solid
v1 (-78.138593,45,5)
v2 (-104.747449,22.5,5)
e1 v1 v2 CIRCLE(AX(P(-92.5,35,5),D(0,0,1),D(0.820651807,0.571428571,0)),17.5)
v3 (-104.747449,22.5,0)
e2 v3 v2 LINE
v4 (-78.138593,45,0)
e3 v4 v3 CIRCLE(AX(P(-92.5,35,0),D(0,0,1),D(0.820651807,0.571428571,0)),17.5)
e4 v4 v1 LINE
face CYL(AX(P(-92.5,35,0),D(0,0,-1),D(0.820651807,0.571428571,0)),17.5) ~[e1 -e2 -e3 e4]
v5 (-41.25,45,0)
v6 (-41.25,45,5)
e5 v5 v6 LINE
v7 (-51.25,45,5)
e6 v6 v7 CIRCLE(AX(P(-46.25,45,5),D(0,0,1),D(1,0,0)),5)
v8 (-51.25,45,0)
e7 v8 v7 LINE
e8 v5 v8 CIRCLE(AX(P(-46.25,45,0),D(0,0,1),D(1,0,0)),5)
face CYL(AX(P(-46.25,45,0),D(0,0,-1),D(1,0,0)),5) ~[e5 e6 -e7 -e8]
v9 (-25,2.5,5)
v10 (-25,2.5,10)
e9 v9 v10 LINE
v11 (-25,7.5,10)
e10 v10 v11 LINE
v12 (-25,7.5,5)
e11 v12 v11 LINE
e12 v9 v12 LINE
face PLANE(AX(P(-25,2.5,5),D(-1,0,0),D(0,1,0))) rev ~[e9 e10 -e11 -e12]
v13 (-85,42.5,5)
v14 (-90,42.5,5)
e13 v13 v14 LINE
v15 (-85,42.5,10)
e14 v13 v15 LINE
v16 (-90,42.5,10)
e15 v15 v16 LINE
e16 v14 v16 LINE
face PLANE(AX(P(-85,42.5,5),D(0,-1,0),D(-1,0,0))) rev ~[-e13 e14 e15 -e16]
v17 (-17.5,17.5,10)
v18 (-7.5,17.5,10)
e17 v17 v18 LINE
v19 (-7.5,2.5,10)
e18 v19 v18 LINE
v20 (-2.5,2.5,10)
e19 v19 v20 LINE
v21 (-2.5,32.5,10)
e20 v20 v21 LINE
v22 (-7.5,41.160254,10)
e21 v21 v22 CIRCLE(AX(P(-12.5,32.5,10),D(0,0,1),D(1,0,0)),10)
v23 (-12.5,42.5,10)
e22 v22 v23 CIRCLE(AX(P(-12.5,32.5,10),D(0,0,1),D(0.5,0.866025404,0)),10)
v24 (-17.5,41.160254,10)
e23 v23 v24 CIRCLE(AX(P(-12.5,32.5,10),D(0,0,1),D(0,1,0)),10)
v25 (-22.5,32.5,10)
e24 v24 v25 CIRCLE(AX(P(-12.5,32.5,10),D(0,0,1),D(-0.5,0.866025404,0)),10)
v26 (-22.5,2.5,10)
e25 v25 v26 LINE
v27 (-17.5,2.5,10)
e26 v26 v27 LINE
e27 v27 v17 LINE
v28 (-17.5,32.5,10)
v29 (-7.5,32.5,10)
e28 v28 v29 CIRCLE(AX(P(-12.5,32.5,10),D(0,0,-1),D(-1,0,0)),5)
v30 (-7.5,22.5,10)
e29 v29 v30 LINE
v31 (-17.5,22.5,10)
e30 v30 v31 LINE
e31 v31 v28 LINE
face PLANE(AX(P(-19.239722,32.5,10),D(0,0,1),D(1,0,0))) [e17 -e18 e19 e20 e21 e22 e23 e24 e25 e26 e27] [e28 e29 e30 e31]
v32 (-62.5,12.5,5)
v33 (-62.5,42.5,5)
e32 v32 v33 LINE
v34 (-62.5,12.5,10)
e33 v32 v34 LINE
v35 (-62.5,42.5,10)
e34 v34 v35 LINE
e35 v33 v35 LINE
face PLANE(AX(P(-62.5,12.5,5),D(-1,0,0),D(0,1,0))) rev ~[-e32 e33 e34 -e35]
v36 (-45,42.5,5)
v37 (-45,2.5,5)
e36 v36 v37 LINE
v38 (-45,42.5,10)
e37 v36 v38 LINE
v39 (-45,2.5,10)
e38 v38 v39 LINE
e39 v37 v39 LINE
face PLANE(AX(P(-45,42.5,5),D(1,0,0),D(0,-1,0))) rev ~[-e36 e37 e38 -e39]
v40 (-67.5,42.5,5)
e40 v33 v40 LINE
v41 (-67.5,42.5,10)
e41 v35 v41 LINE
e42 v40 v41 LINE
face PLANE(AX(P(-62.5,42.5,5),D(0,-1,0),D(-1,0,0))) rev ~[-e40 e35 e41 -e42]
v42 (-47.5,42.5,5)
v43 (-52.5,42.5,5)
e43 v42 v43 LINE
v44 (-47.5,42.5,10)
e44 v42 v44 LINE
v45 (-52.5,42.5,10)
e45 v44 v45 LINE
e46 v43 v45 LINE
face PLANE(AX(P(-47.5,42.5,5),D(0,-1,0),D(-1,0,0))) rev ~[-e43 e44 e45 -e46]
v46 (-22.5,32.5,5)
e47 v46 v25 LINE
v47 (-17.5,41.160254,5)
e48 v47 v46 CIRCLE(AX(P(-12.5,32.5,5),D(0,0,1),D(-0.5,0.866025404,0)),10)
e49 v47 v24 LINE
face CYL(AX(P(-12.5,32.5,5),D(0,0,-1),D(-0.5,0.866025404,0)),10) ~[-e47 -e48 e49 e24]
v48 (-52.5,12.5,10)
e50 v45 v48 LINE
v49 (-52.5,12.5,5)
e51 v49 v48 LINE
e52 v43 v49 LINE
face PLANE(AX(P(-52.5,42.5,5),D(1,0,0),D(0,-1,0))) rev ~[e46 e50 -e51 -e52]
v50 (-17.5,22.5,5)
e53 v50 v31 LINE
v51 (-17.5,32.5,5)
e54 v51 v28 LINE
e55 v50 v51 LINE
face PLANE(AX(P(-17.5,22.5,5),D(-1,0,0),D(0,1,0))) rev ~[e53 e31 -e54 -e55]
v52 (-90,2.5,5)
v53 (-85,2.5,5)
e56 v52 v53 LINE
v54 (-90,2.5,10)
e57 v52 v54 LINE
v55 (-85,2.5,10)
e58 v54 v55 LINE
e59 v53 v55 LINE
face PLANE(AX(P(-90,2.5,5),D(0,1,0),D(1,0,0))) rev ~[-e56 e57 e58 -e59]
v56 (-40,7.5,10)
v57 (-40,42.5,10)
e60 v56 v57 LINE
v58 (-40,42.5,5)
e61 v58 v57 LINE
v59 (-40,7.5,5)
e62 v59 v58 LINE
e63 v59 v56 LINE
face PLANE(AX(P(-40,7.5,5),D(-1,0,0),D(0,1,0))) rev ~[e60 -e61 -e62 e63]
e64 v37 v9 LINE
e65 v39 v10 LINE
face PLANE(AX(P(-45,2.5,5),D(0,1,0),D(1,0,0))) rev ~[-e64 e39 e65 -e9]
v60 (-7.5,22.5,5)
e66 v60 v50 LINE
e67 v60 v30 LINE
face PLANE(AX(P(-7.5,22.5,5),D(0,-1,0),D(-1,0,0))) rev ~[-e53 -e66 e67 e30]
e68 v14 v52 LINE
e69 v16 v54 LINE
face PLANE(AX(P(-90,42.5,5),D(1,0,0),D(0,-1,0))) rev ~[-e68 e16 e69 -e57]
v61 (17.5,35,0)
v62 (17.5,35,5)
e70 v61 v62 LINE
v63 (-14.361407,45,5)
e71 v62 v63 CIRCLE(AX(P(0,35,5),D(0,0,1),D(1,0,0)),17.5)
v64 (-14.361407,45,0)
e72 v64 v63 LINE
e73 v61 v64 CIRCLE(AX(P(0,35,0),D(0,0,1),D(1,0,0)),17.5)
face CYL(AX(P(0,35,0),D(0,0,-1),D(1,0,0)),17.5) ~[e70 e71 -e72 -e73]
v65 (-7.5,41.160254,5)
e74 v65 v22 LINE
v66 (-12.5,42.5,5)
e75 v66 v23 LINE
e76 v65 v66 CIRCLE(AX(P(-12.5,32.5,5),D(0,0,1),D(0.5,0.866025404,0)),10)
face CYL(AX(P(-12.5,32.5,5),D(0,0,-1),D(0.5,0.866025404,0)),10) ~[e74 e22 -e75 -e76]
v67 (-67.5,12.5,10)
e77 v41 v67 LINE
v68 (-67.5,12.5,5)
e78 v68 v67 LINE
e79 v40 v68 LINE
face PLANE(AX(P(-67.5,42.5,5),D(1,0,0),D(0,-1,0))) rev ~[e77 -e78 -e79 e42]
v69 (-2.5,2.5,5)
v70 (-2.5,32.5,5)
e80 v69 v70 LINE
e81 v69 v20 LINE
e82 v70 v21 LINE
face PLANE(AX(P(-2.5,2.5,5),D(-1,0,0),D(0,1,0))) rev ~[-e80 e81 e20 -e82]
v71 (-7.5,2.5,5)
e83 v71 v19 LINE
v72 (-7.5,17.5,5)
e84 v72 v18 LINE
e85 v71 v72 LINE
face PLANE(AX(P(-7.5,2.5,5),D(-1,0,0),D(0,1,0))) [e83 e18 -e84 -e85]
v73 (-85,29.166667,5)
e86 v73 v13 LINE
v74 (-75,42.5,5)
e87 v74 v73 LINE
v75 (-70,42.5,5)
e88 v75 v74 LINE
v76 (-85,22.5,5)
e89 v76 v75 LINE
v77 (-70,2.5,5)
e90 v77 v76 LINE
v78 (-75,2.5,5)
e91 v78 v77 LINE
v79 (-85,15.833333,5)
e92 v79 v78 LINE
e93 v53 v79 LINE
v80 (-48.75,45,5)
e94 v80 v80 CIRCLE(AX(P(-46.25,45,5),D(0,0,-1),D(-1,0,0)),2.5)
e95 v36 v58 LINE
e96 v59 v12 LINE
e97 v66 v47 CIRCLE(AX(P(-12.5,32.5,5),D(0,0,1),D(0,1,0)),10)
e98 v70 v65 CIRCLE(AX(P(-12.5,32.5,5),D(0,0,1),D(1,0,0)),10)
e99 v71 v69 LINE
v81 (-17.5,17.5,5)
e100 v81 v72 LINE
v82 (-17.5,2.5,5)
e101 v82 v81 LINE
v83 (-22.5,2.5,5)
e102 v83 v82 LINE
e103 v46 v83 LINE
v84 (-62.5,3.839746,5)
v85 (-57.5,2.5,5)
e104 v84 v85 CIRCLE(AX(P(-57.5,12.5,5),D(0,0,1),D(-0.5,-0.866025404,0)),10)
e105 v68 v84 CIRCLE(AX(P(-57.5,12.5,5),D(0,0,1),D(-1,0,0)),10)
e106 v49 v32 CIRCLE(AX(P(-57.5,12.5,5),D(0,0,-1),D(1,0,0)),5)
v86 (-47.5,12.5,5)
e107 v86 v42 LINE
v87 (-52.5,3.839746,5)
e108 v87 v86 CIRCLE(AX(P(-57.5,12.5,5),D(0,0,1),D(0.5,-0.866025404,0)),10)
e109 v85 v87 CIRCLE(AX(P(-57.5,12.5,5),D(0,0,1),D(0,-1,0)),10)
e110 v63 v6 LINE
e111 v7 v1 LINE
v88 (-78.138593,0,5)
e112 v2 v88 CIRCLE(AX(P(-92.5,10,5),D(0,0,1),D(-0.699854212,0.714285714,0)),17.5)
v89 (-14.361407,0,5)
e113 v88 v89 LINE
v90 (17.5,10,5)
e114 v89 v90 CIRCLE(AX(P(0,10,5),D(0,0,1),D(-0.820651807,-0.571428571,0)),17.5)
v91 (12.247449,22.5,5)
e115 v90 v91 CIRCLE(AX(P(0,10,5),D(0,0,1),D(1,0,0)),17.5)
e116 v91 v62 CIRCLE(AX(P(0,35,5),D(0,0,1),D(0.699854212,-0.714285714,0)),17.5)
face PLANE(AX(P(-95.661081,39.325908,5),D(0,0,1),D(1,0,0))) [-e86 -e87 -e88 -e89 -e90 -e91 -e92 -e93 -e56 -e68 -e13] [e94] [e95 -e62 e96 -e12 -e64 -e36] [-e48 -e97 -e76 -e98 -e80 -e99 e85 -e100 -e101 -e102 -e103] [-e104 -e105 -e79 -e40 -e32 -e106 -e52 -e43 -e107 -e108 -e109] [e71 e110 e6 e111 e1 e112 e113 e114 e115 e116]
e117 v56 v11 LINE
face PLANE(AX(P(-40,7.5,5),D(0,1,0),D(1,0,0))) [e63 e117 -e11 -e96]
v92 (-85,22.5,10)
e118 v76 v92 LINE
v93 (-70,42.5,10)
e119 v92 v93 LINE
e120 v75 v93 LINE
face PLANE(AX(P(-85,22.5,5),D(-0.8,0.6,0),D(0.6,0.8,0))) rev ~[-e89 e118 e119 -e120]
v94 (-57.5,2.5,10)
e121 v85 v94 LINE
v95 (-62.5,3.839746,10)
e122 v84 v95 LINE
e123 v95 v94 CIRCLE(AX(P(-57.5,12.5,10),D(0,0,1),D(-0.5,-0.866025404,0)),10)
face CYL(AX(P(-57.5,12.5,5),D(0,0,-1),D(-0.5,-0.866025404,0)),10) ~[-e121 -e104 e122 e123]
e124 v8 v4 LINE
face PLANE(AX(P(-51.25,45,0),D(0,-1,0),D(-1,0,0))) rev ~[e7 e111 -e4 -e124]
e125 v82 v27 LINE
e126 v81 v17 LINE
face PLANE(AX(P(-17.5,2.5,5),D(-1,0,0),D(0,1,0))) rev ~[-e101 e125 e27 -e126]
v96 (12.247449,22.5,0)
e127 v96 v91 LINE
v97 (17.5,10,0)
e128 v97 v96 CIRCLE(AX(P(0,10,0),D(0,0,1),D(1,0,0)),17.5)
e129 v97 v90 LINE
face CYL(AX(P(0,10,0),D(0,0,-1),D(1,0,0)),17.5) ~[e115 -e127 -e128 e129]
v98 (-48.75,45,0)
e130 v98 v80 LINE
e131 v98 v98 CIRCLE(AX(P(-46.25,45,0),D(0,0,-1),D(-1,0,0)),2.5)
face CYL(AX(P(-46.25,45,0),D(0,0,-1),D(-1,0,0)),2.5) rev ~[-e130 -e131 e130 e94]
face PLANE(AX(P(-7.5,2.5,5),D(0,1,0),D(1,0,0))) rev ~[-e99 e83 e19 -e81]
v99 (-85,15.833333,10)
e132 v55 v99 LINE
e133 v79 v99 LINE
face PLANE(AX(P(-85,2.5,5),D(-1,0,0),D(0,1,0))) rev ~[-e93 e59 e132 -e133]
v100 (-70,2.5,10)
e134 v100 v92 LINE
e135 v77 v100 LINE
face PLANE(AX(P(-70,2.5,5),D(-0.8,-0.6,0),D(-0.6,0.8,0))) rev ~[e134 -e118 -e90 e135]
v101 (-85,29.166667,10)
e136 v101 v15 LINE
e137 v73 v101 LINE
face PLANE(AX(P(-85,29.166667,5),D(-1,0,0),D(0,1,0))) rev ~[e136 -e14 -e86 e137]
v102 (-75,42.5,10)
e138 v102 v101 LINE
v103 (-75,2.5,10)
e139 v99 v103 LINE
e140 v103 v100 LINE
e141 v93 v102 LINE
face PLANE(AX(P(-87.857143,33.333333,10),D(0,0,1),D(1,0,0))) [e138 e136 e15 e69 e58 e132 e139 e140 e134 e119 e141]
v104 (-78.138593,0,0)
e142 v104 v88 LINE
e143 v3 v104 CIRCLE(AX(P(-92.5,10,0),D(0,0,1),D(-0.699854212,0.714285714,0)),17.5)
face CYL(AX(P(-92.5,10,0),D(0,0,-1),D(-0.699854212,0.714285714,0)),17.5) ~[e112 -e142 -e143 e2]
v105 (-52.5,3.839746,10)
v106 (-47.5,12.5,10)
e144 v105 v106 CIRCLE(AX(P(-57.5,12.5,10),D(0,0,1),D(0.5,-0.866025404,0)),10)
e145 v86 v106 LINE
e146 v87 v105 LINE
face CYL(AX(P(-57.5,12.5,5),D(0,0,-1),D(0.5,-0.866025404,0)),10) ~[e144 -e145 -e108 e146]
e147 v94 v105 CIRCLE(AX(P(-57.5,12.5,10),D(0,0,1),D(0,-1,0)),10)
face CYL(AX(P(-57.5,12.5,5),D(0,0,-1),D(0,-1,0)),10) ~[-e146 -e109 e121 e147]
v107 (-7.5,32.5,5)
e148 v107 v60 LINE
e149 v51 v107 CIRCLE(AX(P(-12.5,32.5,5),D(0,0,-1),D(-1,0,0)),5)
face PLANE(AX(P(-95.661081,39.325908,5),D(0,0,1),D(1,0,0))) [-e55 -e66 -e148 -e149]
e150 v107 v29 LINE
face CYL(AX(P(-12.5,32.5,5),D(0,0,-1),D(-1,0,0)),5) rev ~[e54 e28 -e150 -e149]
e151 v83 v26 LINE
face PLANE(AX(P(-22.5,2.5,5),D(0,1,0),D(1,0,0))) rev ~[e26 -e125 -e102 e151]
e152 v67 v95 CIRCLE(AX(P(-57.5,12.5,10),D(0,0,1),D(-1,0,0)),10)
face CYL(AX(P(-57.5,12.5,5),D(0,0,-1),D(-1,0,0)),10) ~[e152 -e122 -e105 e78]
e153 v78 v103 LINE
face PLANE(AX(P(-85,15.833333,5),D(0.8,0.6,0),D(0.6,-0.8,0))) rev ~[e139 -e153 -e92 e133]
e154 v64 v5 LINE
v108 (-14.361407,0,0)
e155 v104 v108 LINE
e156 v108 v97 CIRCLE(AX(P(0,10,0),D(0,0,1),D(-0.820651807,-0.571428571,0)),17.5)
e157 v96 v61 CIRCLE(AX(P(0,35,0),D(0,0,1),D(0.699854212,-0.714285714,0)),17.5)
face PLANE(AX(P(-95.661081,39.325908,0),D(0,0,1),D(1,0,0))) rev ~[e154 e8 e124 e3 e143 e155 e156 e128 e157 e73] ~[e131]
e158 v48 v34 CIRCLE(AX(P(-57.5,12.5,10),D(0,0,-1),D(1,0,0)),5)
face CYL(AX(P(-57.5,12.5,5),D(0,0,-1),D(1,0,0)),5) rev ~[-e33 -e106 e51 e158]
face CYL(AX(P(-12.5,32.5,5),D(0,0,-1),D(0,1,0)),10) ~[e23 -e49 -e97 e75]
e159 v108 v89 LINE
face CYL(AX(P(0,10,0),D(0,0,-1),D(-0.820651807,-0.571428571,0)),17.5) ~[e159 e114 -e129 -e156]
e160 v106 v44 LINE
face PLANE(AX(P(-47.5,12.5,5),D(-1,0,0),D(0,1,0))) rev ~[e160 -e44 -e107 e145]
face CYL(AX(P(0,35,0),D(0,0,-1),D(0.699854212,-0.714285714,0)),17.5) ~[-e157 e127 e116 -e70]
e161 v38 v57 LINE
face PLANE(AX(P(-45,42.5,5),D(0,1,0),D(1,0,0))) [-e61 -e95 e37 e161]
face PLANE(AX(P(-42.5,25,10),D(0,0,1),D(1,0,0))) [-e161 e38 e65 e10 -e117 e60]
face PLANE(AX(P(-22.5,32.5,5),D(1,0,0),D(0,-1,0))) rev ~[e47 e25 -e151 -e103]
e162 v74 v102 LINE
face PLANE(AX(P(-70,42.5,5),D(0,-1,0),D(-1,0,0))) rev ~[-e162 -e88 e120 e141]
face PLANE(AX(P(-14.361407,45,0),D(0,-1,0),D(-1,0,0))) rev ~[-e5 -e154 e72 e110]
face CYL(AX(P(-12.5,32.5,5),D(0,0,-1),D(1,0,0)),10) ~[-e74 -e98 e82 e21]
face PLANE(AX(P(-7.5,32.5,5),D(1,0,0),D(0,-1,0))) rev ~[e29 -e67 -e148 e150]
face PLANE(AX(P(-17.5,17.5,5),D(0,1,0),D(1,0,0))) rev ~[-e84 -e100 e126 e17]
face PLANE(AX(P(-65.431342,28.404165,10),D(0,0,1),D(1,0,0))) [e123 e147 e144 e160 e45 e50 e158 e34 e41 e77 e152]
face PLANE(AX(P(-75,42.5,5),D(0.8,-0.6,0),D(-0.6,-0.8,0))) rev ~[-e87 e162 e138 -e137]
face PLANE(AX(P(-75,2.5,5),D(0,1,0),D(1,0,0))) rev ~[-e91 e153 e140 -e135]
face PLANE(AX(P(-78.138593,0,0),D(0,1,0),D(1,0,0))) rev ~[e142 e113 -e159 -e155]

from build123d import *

# Parameters (mm, degrees)
F1_DEPTH = 5
F2_W     = 5
F2_H     = 35
F2_H_2   = 5
F2_W_2   = 15
F2_H_3   = 15
F3_DEPTH = 5


with BuildPart() as f1:
    # F0 (on Top) → F1 (new body)
    with BuildSketch(Plane.XY):
        with BuildLine():
            Line((-92.5, 45), (-78.1385933837, 45))
            ThreePointArc((-78.1385933837, 45), (-103.7995444379, 48.3630196998), (-104.7474487139, 22.5))
            ThreePointArc((-104.7474487139, 22.5), (-99.1143782777, 26.201851746), (-92.5, 27.5))
            Line((-92.5, 27.5), (-92.5, 45))
        make_face()
        with BuildLine():
            Line((-92.5, 17.5), (-92.5, 27.5))
            ThreePointArc((-92.5, 27.5), (-99.1143782777, 26.201851746), (-104.7474487139, 22.5))
            ThreePointArc((-104.7474487139, 22.5), (-99.1143782777, 18.798148254), (-92.5, 17.5))
        make_face()
        with BuildLine():
            ThreePointArc((-92.5, 17.5), (-99.1143782777, 18.798148254), (-104.7474487139, 22.5))
            ThreePointArc((-104.7474487139, 22.5), (-103.7995444379, -3.3630196998), (-78.1385933837, 0))
            Line((-78.1385933837, 0), (-92.5, 0))
            Line((-92.5, 0), (-92.5, 17.5))
        make_face()
        with BuildLine():
            Line((-90, 17.6794919243), (-90, 27.3205080757))
            ThreePointArc((-90, 27.3205080757), (-91.2467824061, 27.4550693399), (-92.5, 27.5))
            Line((-92.5, 27.5), (-92.5, 17.5))
            ThreePointArc((-92.5, 17.5), (-91.2467824061, 17.5449306601), (-90, 17.6794919243))
        make_face()
        with BuildLine():
            Line((-90, 27.3205080757), (-90, 42.5))
            Line((-90, 42.5), (-76.6886116992, 42.5))
            ThreePointArc((-76.6886116992, 42.5), (-77.3619060553, 43.7799835832), (-78.1385933837, 45))
            Line((-78.1385933837, 45), (-92.5, 45))
            Line((-92.5, 45), (-92.5, 27.5))
            ThreePointArc((-92.5, 27.5), (-91.2467824061, 27.4550693399), (-90, 27.3205080757))
        make_face()
        with BuildLine():
            Line((-76.6886116992, 42.5), (-90, 42.5))
            Line((-90, 42.5), (-90, 27.3205080757))
            ThreePointArc((-90, 27.3205080757), (-84.7423498777, 25.6865823104), (-80.2525512861, 22.5))
            ThreePointArc((-80.2525512861, 22.5), (-76.3664890291, 28.2206324961), (-75, 35))
            ThreePointArc((-75, 35), (-75.4273713907, 38.843872054), (-76.6886116992, 42.5))
        make_face()
        with BuildLine():
            ThreePointArc((-80.2525512861, 22.5), (-84.7423498777, 25.6865823104), (-90, 27.3205080757))
            Line((-90, 27.3205080757), (-90, 17.6794919243))
            ThreePointArc((-90, 17.6794919243), (-84.7423498777, 19.3134176896), (-80.2525512861, 22.5))
        make_face()
        with BuildLine():
            ThreePointArc((-80.2525512861, 22.5), (-84.7423498777, 19.3134176896), (-90, 17.6794919243))
            Line((-90, 17.6794919243), (-90, 2.5))
            Line((-90, 2.5), (-76.6886116992, 2.5))
            ThreePointArc((-76.6886116992, 2.5), (-75.4273713907, 6.156127946), (-75, 10))
            ThreePointArc((-75, 10), (-76.3664890291, 16.7793675039), (-80.2525512861, 22.5))
        make_face()
        with BuildLine():
            Line((-90, 2.5), (-90, 17.6794919243))
            ThreePointArc((-90, 17.6794919243), (-91.2467824061, 17.5449306601), (-92.5, 17.5))
            Line((-92.5, 17.5), (-92.5, 0))
            Line((-92.5, 0), (-78.1385933837, 0))
            ThreePointArc((-78.1385933837, 0), (-77.3619060553, 1.2200164168), (-76.6886116992, 2.5))
            Line((-76.6886116992, 2.5), (-90, 2.5))
        make_face()
        with BuildLine():
            Line((-70, 42.5), (-76.6886116992, 42.5))
            ThreePointArc((-76.6886116992, 42.5), (-75.4273713907, 38.843872054), (-75, 35))
            ThreePointArc((-75, 35), (-76.3664890291, 28.2206324961), (-80.2525512861, 22.5))
            ThreePointArc((-80.2525512861, 22.5), (-76.3664890291, 16.7793675039), (-75, 10))
            ThreePointArc((-75, 10), (-75.4273713907, 6.156127946), (-76.6886116992, 2.5))
            Line((-76.6886116992, 2.5), (-70, 2.5))
            Line((-70, 2.5), (-70, 42.5))
        make_face()
        with BuildLine():
            ThreePointArc((-78.1385933837, 45), (-77.3619060553, 43.7799835832), (-76.6886116992, 42.5))
            Line((-76.6886116992, 42.5), (-70, 42.5))
            Line((-70, 42.5), (-70, 2.5))
            Line((-70, 2.5), (-76.6886116992, 2.5))
            ThreePointArc((-76.6886116992, 2.5), (-77.3619060553, 1.2200164168), (-78.1385933837, 0))
            Line((-78.1385933837, 0), (-14.3614066163, 0))
            ThreePointArc((-14.3614066163, 0), (-15.1380939447, 1.2200164168), (-15.8113883008, 2.5))
            Line((-15.8113883008, 2.5), (-22.5, 2.5))
            Line((-22.5, 2.5), (-22.5, 42.5))
            Line((-22.5, 42.5), (-15.8113883008, 42.5))
            ThreePointArc((-15.8113883008, 42.5), (-15.1380939447, 43.7799835832), (-14.3614066163, 45))
            Line((-14.3614066163, 45), (-41.25, 45))
            ThreePointArc((-41.25, 45), (-41.4203708686, 43.7059047745), (-41.9198729811, 42.5))
            Line((-41.9198729811, 42.5), (-25, 42.5))
            Line((-25, 42.5), (-25, 2.5))
            Line((-25, 2.5), (-45, 2.5))
            Line((-45, 2.5), (-45, 40.1587708172))
            ThreePointArc((-45, 40.1587708172), (-46.25, 40), (-47.5, 40.1587708172))
            Line((-47.5, 40.1587708172), (-47.5, 2.5))
            Line((-47.5, 2.5), (-67.5, 2.5))
            Line((-67.5, 2.5), (-67.5, 42.5))
            Line((-67.5, 42.5), (-50.5801270189, 42.5))
            ThreePointArc((-50.5801270189, 42.5), (-51.0796291314, 43.7059047745), (-51.25, 45))
            Line((-51.25, 45), (-78.1385933837, 45))
        make_face()
        with BuildLine():
            ThreePointArc((-47.5, 40.1587708172), (-49.275688832, 41.0193961398), (-50.5801270189, 42.5))
            Line((-50.5801270189, 42.5), (-67.5, 42.5))
            Line((-67.5, 42.5), (-67.5, 2.5))
            Line((-67.5, 2.5), (-47.5, 2.5))
            Line((-47.5, 2.5), (-47.5, 40.1587708172))
        make_face()
        with BuildLine():
            Line((-47.5, 42.5), (-50.5801270189, 42.5))
            ThreePointArc((-50.5801270189, 42.5), (-49.275688832, 41.0193961398), (-47.5, 40.1587708172))
            Line((-47.5, 40.1587708172), (-47.5, 42.5))
        make_face()
        with BuildLine():
            ThreePointArc((-45, 40.1587708172), (-43.224311168, 41.0193961398), (-41.9198729811, 42.5))
            Line((-41.9198729811, 42.5), (-45, 42.5))
            Line((-45, 42.5), (-45, 40.1587708172))
        make_face()
        with BuildLine():
            Line((-25, 42.5), (-41.9198729811, 42.5))
            ThreePointArc((-41.9198729811, 42.5), (-43.224311168, 41.0193961398), (-45, 40.1587708172))
            Line((-45, 40.1587708172), (-45, 2.5))
            Line((-45, 2.5), (-25, 2.5))
            Line((-25, 2.5), (-25, 42.5))
        make_face()
        with BuildLine():
            ThreePointArc((-12.2474487139, 22.5), (-17.2285978436, 31.9299159059), (-15.8113883008, 42.5))
            Line((-15.8113883008, 42.5), (-22.5, 42.5))
            Line((-22.5, 42.5), (-22.5, 2.5))
            Line((-22.5, 2.5), (-15.8113883008, 2.5))
            ThreePointArc((-15.8113883008, 2.5), (-17.2285978436, 13.0700840941), (-12.2474487139, 22.5))
        make_face()
        with BuildLine():
            Line((-2.5, 42.5), (-15.8113883008, 42.5))
            ThreePointArc((-15.8113883008, 42.5), (-17.2285978436, 31.9299159059), (-12.2474487139, 22.5))
            ThreePointArc((-12.2474487139, 22.5), (-7.7576501223, 25.6865823104), (-2.5, 27.3205080757))
            Line((-2.5, 27.3205080757), (-2.5, 42.5))
        make_face()
        with BuildLine():
            ThreePointArc((17.5, 35), (5.2404858655, 51.6969251029), (-14.3614066163, 45))
            Line((-14.3614066163, 45), (0, 45))
            Line((0, 45), (0, 27.5))
            ThreePointArc((0, 27.5), (6.6143782777, 26.201851746), (12.2474487139, 22.5))
            ThreePointArc((12.2474487139, 22.5), (16.1335109709, 28.2206324961), (17.5, 35))
        make_face()
        with BuildLine():
            Line((0, 0), (-14.3614066163, 0))
            ThreePointArc((-14.3614066163, 0), (5.2404858655, -6.6969251029), (17.5, 10))
            ThreePointArc((17.5, 10), (16.1335109709, 16.7793675039), (12.2474487139, 22.5))
            ThreePointArc((12.2474487139, 22.5), (6.6143782777, 18.798148254), (0, 17.5))
            Line((0, 17.5), (0, 0))
        make_face()
        with BuildLine():
            ThreePointArc((-12.2474487139, 22.5), (-17.2285978436, 13.0700840941), (-15.8113883008, 2.5))
            Line((-15.8113883008, 2.5), (-2.5, 2.5))
            Line((-2.5, 2.5), (-2.5, 17.6794919243))
            ThreePointArc((-2.5, 17.6794919243), (-7.7576501223, 19.3134176896), (-12.2474487139, 22.5))
        make_face()
        with BuildLine():
            ThreePointArc((-2.5, 27.3205080757), (-7.7576501223, 25.6865823104), (-12.2474487139, 22.5))
            ThreePointArc((-12.2474487139, 22.5), (-7.7576501223, 19.3134176896), (-2.5, 17.6794919243))
            Line((-2.5, 17.6794919243), (-2.5, 27.3205080757))
        make_face()
        with BuildLine():
            ThreePointArc((12.2474487139, 22.5), (6.6143782777, 26.201851746), (0, 27.5))
            Line((0, 27.5), (0, 17.5))
            ThreePointArc((0, 17.5), (6.6143782777, 18.798148254), (12.2474487139, 22.5))
        make_face()
        with BuildLine():
            ThreePointArc((-15.8113883008, 2.5), (-15.1380939447, 1.2200164168), (-14.3614066163, 0))
            Line((-14.3614066163, 0), (0, 0))
            Line((0, 0), (0, 17.5))
            ThreePointArc((0, 17.5), (-1.2532175939, 17.5449306601), (-2.5, 17.6794919243))
            Line((-2.5, 17.6794919243), (-2.5, 2.5))
            Line((-2.5, 2.5), (-15.8113883008, 2.5))
        make_face()
        with BuildLine():
            Line((0, 45), (-14.3614066163, 45))
            ThreePointArc((-14.3614066163, 45), (-15.1380939447, 43.7799835832), (-15.8113883008, 42.5))
            Line((-15.8113883008, 42.5), (-2.5, 42.5))
            Line((-2.5, 42.5), (-2.5, 27.3205080757))
            ThreePointArc((-2.5, 27.3205080757), (-1.2532175939, 27.4550693399), (0, 27.5))
            Line((0, 27.5), (0, 45))
        make_face()
        with BuildLine():
            Line((0, 17.5), (0, 27.5))
            ThreePointArc((0, 27.5), (-1.2532175939, 27.4550693399), (-2.5, 27.3205080757))
            Line((-2.5, 27.3205080757), (-2.5, 17.6794919243))
            ThreePointArc((-2.5, 17.6794919243), (-1.2532175939, 17.5449306601), (0, 17.5))
        make_face()
        with BuildLine():
            Line((-48.75, 45), (-51.25, 45))
            ThreePointArc((-51.25, 45), (-51.0796291314, 43.7059047745), (-50.5801270189, 42.5))
            Line((-50.5801270189, 42.5), (-47.5, 42.5))
            Line((-47.5, 42.5), (-47.5, 40.1587708172))
            ThreePointArc((-47.5, 40.1587708172), (-46.25, 40), (-45, 40.1587708172))
            Line((-45, 40.1587708172), (-45, 42.5))
            Line((-45, 42.5), (-41.9198729811, 42.5))
            ThreePointArc((-41.9198729811, 42.5), (-41.4203708686, 43.7059047745), (-41.25, 45))
            Line((-41.25, 45), (-43.75, 45))
            ThreePointArc((-43.75, 45), (-46.25, 42.5), (-48.75, 45))
        make_face()
        with BuildLine():
            ThreePointArc((-41.25, 45), (-46.25, 50), (-51.25, 45))
            Line((-51.25, 45), (-48.75, 45))
            ThreePointArc((-48.75, 45), (-46.25, 47.5), (-43.75, 45))
            Line((-43.75, 45), (-41.25, 45))
        make_face()
    extrude(amount=F1_DEPTH)

    # F2 (on face) → F3 (join)
    with BuildSketch(Plane.XY.offset(5)):
        Polygon((-85, 42.5), (-90, 42.5), (-90, 22.5), (-85, 29.1666666667), align=None)
        Polygon((-85, 29.1666666667), (-90, 22.5), (-85, 15.8333333333), (-85, 22.5), align=None)
        Polygon((-85, 15.8333333333), (-90, 22.5), (-90, 2.5), (-85, 2.5), align=None)
        Polygon((-85, 22.5), (-85, 15.8333333333), (-75, 2.5), (-70, 2.5), align=None)
        Polygon((-70, 42.5), (-75, 42.5), (-85, 29.1666666667), (-85, 22.5), align=None)
        with BuildLine():
            Line((-62.5, 42.5), (-67.5, 42.5))
            Line((-67.5, 42.5), (-67.5, 12.5))
            ThreePointArc((-67.5, 12.5), (-66.1602540378, 17.5), (-62.5, 21.1602540378))
            Line((-62.5, 21.1602540378), (-62.5, 42.5))
        make_face()
        with BuildLine():
            ThreePointArc((-62.5, 21.1602540378), (-66.1602540378, 17.5), (-67.5, 12.5))
            ThreePointArc((-67.5, 12.5), (-66.1602540378, 7.5), (-62.5, 3.8397459622))
            Line((-62.5, 3.8397459622), (-62.5, 12.5000000871))
            Line((-62.5, 12.5000000871), (-62.5, 21.1602540378))
        make_face()
        with BuildLine():
            Line((-62.5, 12.5000000871), (-62.5, 3.8397459622))
            ThreePointArc((-62.5, 3.8397459622), (-60.088190451, 2.8407417371), (-57.5, 2.5))
            ThreePointArc((-57.5, 2.5), (-54.911809549, 2.8407417371), (-52.5, 3.8397459622))
            Line((-52.5, 3.8397459622), (-52.5, 12.5))
            ThreePointArc((-52.5, 12.5), (-57.5000000436, 7.5), (-62.5, 12.5000000871))
        make_face()
        with BuildLine():
            ThreePointArc((-47.5, 12.5), (-48.8397459622, 17.5), (-52.5, 21.1602540378))
            Line((-52.5, 21.1602540378), (-52.5, 12.5))
            Line((-52.5, 12.5), (-52.5, 3.8397459622))
            ThreePointArc((-52.5, 3.8397459622), (-48.8397459622, 7.5), (-47.5, 12.5))
        make_face()
        with BuildLine():
            Line((-47.5, 42.5), (-52.5, 42.5))
            Line((-52.5, 42.5), (-52.5, 21.1602540378))
            ThreePointArc((-52.5, 21.1602540378), (-48.8397459622, 17.5), (-47.5, 12.5))
            Line((-47.5, 12.5), (-47.5, 42.5))
        make_face()
        with Locations((-42.5, 25)):
            Rectangle(F2_W, F2_H)
        with Locations((-42.5, 5)):
            Rectangle(F2_W, F2_H_2)
        with Locations((-32.5, 5)):
            Rectangle(F2_W_2, F2_H_2)
        with BuildLine():
            ThreePointArc((-17.5, 41.1602540378), (-21.1602540378, 37.5), (-22.5, 32.5))
            ThreePointArc((-22.5, 32.5), (-21.1602540378, 27.5), (-17.5, 23.8397459622))
            Line((-17.5, 23.8397459622), (-17.5, 32.5))
            Line((-17.5, 32.5), (-17.5, 41.1602540378))
        make_face()
        with BuildLine():
            ThreePointArc((-7.5, 41.1602540378), (-9.911809549, 42.1592582629), (-12.5, 42.5))
            ThreePointArc((-12.5, 42.5), (-15.088190451, 42.1592582629), (-17.5, 41.1602540378))
            Line((-17.5, 41.1602540378), (-17.5, 32.5))
            ThreePointArc((-17.5, 32.5), (-12.5, 37.5), (-7.5, 32.5))
            Line((-7.5, 32.5), (-7.5, 41.1602540378))
        make_face()
        with BuildLine():
            ThreePointArc((-2.5, 32.5), (-3.8397459622, 37.5), (-7.5, 41.1602540378))
            Line((-7.5, 41.1602540378), (-7.5, 32.5))
            Line((-7.5, 32.5), (-7.5, 23.8397459622))
            ThreePointArc((-7.5, 23.8397459622), (-3.8397459622, 27.5), (-2.5, 32.5))
        make_face()
        Polygon((-12.5, 22.5), (-17.5, 22.5), (-17.5, 17.5), (-7.5, 17.5), (-7.5, 22.5), align=None)
        with Locations((-20, 20)):
            Rectangle(F2_W, F2_H_2)
        with BuildLine():
            ThreePointArc((-17.5, 23.8397459622), (-21.1602540378, 27.5), (-22.5, 32.5))
            Line((-22.5, 32.5), (-22.5, 22.5))
            Line((-22.5, 22.5), (-17.5, 22.5))
            Line((-17.5, 22.5), (-17.5, 23.8397459622))
        make_face()
        with BuildLine():
            Line((-2.5, 22.5), (-2.5, 32.5))
            ThreePointArc((-2.5, 32.5), (-3.8397459622, 27.5), (-7.5, 23.8397459622))
            Line((-7.5, 23.8397459622), (-7.5, 22.5))
            Line((-7.5, 22.5), (-2.5, 22.5))
        make_face()
        with Locations((-5, 20)):
            Rectangle(F2_W, F2_H_2)
        with Locations((-5, 10)):
            Rectangle(F2_W, F2_H_3)
        with Locations((-20, 10)):
            Rectangle(F2_W, F2_H_3)
    extrude(amount=F3_DEPTH)


solid = f1.part
